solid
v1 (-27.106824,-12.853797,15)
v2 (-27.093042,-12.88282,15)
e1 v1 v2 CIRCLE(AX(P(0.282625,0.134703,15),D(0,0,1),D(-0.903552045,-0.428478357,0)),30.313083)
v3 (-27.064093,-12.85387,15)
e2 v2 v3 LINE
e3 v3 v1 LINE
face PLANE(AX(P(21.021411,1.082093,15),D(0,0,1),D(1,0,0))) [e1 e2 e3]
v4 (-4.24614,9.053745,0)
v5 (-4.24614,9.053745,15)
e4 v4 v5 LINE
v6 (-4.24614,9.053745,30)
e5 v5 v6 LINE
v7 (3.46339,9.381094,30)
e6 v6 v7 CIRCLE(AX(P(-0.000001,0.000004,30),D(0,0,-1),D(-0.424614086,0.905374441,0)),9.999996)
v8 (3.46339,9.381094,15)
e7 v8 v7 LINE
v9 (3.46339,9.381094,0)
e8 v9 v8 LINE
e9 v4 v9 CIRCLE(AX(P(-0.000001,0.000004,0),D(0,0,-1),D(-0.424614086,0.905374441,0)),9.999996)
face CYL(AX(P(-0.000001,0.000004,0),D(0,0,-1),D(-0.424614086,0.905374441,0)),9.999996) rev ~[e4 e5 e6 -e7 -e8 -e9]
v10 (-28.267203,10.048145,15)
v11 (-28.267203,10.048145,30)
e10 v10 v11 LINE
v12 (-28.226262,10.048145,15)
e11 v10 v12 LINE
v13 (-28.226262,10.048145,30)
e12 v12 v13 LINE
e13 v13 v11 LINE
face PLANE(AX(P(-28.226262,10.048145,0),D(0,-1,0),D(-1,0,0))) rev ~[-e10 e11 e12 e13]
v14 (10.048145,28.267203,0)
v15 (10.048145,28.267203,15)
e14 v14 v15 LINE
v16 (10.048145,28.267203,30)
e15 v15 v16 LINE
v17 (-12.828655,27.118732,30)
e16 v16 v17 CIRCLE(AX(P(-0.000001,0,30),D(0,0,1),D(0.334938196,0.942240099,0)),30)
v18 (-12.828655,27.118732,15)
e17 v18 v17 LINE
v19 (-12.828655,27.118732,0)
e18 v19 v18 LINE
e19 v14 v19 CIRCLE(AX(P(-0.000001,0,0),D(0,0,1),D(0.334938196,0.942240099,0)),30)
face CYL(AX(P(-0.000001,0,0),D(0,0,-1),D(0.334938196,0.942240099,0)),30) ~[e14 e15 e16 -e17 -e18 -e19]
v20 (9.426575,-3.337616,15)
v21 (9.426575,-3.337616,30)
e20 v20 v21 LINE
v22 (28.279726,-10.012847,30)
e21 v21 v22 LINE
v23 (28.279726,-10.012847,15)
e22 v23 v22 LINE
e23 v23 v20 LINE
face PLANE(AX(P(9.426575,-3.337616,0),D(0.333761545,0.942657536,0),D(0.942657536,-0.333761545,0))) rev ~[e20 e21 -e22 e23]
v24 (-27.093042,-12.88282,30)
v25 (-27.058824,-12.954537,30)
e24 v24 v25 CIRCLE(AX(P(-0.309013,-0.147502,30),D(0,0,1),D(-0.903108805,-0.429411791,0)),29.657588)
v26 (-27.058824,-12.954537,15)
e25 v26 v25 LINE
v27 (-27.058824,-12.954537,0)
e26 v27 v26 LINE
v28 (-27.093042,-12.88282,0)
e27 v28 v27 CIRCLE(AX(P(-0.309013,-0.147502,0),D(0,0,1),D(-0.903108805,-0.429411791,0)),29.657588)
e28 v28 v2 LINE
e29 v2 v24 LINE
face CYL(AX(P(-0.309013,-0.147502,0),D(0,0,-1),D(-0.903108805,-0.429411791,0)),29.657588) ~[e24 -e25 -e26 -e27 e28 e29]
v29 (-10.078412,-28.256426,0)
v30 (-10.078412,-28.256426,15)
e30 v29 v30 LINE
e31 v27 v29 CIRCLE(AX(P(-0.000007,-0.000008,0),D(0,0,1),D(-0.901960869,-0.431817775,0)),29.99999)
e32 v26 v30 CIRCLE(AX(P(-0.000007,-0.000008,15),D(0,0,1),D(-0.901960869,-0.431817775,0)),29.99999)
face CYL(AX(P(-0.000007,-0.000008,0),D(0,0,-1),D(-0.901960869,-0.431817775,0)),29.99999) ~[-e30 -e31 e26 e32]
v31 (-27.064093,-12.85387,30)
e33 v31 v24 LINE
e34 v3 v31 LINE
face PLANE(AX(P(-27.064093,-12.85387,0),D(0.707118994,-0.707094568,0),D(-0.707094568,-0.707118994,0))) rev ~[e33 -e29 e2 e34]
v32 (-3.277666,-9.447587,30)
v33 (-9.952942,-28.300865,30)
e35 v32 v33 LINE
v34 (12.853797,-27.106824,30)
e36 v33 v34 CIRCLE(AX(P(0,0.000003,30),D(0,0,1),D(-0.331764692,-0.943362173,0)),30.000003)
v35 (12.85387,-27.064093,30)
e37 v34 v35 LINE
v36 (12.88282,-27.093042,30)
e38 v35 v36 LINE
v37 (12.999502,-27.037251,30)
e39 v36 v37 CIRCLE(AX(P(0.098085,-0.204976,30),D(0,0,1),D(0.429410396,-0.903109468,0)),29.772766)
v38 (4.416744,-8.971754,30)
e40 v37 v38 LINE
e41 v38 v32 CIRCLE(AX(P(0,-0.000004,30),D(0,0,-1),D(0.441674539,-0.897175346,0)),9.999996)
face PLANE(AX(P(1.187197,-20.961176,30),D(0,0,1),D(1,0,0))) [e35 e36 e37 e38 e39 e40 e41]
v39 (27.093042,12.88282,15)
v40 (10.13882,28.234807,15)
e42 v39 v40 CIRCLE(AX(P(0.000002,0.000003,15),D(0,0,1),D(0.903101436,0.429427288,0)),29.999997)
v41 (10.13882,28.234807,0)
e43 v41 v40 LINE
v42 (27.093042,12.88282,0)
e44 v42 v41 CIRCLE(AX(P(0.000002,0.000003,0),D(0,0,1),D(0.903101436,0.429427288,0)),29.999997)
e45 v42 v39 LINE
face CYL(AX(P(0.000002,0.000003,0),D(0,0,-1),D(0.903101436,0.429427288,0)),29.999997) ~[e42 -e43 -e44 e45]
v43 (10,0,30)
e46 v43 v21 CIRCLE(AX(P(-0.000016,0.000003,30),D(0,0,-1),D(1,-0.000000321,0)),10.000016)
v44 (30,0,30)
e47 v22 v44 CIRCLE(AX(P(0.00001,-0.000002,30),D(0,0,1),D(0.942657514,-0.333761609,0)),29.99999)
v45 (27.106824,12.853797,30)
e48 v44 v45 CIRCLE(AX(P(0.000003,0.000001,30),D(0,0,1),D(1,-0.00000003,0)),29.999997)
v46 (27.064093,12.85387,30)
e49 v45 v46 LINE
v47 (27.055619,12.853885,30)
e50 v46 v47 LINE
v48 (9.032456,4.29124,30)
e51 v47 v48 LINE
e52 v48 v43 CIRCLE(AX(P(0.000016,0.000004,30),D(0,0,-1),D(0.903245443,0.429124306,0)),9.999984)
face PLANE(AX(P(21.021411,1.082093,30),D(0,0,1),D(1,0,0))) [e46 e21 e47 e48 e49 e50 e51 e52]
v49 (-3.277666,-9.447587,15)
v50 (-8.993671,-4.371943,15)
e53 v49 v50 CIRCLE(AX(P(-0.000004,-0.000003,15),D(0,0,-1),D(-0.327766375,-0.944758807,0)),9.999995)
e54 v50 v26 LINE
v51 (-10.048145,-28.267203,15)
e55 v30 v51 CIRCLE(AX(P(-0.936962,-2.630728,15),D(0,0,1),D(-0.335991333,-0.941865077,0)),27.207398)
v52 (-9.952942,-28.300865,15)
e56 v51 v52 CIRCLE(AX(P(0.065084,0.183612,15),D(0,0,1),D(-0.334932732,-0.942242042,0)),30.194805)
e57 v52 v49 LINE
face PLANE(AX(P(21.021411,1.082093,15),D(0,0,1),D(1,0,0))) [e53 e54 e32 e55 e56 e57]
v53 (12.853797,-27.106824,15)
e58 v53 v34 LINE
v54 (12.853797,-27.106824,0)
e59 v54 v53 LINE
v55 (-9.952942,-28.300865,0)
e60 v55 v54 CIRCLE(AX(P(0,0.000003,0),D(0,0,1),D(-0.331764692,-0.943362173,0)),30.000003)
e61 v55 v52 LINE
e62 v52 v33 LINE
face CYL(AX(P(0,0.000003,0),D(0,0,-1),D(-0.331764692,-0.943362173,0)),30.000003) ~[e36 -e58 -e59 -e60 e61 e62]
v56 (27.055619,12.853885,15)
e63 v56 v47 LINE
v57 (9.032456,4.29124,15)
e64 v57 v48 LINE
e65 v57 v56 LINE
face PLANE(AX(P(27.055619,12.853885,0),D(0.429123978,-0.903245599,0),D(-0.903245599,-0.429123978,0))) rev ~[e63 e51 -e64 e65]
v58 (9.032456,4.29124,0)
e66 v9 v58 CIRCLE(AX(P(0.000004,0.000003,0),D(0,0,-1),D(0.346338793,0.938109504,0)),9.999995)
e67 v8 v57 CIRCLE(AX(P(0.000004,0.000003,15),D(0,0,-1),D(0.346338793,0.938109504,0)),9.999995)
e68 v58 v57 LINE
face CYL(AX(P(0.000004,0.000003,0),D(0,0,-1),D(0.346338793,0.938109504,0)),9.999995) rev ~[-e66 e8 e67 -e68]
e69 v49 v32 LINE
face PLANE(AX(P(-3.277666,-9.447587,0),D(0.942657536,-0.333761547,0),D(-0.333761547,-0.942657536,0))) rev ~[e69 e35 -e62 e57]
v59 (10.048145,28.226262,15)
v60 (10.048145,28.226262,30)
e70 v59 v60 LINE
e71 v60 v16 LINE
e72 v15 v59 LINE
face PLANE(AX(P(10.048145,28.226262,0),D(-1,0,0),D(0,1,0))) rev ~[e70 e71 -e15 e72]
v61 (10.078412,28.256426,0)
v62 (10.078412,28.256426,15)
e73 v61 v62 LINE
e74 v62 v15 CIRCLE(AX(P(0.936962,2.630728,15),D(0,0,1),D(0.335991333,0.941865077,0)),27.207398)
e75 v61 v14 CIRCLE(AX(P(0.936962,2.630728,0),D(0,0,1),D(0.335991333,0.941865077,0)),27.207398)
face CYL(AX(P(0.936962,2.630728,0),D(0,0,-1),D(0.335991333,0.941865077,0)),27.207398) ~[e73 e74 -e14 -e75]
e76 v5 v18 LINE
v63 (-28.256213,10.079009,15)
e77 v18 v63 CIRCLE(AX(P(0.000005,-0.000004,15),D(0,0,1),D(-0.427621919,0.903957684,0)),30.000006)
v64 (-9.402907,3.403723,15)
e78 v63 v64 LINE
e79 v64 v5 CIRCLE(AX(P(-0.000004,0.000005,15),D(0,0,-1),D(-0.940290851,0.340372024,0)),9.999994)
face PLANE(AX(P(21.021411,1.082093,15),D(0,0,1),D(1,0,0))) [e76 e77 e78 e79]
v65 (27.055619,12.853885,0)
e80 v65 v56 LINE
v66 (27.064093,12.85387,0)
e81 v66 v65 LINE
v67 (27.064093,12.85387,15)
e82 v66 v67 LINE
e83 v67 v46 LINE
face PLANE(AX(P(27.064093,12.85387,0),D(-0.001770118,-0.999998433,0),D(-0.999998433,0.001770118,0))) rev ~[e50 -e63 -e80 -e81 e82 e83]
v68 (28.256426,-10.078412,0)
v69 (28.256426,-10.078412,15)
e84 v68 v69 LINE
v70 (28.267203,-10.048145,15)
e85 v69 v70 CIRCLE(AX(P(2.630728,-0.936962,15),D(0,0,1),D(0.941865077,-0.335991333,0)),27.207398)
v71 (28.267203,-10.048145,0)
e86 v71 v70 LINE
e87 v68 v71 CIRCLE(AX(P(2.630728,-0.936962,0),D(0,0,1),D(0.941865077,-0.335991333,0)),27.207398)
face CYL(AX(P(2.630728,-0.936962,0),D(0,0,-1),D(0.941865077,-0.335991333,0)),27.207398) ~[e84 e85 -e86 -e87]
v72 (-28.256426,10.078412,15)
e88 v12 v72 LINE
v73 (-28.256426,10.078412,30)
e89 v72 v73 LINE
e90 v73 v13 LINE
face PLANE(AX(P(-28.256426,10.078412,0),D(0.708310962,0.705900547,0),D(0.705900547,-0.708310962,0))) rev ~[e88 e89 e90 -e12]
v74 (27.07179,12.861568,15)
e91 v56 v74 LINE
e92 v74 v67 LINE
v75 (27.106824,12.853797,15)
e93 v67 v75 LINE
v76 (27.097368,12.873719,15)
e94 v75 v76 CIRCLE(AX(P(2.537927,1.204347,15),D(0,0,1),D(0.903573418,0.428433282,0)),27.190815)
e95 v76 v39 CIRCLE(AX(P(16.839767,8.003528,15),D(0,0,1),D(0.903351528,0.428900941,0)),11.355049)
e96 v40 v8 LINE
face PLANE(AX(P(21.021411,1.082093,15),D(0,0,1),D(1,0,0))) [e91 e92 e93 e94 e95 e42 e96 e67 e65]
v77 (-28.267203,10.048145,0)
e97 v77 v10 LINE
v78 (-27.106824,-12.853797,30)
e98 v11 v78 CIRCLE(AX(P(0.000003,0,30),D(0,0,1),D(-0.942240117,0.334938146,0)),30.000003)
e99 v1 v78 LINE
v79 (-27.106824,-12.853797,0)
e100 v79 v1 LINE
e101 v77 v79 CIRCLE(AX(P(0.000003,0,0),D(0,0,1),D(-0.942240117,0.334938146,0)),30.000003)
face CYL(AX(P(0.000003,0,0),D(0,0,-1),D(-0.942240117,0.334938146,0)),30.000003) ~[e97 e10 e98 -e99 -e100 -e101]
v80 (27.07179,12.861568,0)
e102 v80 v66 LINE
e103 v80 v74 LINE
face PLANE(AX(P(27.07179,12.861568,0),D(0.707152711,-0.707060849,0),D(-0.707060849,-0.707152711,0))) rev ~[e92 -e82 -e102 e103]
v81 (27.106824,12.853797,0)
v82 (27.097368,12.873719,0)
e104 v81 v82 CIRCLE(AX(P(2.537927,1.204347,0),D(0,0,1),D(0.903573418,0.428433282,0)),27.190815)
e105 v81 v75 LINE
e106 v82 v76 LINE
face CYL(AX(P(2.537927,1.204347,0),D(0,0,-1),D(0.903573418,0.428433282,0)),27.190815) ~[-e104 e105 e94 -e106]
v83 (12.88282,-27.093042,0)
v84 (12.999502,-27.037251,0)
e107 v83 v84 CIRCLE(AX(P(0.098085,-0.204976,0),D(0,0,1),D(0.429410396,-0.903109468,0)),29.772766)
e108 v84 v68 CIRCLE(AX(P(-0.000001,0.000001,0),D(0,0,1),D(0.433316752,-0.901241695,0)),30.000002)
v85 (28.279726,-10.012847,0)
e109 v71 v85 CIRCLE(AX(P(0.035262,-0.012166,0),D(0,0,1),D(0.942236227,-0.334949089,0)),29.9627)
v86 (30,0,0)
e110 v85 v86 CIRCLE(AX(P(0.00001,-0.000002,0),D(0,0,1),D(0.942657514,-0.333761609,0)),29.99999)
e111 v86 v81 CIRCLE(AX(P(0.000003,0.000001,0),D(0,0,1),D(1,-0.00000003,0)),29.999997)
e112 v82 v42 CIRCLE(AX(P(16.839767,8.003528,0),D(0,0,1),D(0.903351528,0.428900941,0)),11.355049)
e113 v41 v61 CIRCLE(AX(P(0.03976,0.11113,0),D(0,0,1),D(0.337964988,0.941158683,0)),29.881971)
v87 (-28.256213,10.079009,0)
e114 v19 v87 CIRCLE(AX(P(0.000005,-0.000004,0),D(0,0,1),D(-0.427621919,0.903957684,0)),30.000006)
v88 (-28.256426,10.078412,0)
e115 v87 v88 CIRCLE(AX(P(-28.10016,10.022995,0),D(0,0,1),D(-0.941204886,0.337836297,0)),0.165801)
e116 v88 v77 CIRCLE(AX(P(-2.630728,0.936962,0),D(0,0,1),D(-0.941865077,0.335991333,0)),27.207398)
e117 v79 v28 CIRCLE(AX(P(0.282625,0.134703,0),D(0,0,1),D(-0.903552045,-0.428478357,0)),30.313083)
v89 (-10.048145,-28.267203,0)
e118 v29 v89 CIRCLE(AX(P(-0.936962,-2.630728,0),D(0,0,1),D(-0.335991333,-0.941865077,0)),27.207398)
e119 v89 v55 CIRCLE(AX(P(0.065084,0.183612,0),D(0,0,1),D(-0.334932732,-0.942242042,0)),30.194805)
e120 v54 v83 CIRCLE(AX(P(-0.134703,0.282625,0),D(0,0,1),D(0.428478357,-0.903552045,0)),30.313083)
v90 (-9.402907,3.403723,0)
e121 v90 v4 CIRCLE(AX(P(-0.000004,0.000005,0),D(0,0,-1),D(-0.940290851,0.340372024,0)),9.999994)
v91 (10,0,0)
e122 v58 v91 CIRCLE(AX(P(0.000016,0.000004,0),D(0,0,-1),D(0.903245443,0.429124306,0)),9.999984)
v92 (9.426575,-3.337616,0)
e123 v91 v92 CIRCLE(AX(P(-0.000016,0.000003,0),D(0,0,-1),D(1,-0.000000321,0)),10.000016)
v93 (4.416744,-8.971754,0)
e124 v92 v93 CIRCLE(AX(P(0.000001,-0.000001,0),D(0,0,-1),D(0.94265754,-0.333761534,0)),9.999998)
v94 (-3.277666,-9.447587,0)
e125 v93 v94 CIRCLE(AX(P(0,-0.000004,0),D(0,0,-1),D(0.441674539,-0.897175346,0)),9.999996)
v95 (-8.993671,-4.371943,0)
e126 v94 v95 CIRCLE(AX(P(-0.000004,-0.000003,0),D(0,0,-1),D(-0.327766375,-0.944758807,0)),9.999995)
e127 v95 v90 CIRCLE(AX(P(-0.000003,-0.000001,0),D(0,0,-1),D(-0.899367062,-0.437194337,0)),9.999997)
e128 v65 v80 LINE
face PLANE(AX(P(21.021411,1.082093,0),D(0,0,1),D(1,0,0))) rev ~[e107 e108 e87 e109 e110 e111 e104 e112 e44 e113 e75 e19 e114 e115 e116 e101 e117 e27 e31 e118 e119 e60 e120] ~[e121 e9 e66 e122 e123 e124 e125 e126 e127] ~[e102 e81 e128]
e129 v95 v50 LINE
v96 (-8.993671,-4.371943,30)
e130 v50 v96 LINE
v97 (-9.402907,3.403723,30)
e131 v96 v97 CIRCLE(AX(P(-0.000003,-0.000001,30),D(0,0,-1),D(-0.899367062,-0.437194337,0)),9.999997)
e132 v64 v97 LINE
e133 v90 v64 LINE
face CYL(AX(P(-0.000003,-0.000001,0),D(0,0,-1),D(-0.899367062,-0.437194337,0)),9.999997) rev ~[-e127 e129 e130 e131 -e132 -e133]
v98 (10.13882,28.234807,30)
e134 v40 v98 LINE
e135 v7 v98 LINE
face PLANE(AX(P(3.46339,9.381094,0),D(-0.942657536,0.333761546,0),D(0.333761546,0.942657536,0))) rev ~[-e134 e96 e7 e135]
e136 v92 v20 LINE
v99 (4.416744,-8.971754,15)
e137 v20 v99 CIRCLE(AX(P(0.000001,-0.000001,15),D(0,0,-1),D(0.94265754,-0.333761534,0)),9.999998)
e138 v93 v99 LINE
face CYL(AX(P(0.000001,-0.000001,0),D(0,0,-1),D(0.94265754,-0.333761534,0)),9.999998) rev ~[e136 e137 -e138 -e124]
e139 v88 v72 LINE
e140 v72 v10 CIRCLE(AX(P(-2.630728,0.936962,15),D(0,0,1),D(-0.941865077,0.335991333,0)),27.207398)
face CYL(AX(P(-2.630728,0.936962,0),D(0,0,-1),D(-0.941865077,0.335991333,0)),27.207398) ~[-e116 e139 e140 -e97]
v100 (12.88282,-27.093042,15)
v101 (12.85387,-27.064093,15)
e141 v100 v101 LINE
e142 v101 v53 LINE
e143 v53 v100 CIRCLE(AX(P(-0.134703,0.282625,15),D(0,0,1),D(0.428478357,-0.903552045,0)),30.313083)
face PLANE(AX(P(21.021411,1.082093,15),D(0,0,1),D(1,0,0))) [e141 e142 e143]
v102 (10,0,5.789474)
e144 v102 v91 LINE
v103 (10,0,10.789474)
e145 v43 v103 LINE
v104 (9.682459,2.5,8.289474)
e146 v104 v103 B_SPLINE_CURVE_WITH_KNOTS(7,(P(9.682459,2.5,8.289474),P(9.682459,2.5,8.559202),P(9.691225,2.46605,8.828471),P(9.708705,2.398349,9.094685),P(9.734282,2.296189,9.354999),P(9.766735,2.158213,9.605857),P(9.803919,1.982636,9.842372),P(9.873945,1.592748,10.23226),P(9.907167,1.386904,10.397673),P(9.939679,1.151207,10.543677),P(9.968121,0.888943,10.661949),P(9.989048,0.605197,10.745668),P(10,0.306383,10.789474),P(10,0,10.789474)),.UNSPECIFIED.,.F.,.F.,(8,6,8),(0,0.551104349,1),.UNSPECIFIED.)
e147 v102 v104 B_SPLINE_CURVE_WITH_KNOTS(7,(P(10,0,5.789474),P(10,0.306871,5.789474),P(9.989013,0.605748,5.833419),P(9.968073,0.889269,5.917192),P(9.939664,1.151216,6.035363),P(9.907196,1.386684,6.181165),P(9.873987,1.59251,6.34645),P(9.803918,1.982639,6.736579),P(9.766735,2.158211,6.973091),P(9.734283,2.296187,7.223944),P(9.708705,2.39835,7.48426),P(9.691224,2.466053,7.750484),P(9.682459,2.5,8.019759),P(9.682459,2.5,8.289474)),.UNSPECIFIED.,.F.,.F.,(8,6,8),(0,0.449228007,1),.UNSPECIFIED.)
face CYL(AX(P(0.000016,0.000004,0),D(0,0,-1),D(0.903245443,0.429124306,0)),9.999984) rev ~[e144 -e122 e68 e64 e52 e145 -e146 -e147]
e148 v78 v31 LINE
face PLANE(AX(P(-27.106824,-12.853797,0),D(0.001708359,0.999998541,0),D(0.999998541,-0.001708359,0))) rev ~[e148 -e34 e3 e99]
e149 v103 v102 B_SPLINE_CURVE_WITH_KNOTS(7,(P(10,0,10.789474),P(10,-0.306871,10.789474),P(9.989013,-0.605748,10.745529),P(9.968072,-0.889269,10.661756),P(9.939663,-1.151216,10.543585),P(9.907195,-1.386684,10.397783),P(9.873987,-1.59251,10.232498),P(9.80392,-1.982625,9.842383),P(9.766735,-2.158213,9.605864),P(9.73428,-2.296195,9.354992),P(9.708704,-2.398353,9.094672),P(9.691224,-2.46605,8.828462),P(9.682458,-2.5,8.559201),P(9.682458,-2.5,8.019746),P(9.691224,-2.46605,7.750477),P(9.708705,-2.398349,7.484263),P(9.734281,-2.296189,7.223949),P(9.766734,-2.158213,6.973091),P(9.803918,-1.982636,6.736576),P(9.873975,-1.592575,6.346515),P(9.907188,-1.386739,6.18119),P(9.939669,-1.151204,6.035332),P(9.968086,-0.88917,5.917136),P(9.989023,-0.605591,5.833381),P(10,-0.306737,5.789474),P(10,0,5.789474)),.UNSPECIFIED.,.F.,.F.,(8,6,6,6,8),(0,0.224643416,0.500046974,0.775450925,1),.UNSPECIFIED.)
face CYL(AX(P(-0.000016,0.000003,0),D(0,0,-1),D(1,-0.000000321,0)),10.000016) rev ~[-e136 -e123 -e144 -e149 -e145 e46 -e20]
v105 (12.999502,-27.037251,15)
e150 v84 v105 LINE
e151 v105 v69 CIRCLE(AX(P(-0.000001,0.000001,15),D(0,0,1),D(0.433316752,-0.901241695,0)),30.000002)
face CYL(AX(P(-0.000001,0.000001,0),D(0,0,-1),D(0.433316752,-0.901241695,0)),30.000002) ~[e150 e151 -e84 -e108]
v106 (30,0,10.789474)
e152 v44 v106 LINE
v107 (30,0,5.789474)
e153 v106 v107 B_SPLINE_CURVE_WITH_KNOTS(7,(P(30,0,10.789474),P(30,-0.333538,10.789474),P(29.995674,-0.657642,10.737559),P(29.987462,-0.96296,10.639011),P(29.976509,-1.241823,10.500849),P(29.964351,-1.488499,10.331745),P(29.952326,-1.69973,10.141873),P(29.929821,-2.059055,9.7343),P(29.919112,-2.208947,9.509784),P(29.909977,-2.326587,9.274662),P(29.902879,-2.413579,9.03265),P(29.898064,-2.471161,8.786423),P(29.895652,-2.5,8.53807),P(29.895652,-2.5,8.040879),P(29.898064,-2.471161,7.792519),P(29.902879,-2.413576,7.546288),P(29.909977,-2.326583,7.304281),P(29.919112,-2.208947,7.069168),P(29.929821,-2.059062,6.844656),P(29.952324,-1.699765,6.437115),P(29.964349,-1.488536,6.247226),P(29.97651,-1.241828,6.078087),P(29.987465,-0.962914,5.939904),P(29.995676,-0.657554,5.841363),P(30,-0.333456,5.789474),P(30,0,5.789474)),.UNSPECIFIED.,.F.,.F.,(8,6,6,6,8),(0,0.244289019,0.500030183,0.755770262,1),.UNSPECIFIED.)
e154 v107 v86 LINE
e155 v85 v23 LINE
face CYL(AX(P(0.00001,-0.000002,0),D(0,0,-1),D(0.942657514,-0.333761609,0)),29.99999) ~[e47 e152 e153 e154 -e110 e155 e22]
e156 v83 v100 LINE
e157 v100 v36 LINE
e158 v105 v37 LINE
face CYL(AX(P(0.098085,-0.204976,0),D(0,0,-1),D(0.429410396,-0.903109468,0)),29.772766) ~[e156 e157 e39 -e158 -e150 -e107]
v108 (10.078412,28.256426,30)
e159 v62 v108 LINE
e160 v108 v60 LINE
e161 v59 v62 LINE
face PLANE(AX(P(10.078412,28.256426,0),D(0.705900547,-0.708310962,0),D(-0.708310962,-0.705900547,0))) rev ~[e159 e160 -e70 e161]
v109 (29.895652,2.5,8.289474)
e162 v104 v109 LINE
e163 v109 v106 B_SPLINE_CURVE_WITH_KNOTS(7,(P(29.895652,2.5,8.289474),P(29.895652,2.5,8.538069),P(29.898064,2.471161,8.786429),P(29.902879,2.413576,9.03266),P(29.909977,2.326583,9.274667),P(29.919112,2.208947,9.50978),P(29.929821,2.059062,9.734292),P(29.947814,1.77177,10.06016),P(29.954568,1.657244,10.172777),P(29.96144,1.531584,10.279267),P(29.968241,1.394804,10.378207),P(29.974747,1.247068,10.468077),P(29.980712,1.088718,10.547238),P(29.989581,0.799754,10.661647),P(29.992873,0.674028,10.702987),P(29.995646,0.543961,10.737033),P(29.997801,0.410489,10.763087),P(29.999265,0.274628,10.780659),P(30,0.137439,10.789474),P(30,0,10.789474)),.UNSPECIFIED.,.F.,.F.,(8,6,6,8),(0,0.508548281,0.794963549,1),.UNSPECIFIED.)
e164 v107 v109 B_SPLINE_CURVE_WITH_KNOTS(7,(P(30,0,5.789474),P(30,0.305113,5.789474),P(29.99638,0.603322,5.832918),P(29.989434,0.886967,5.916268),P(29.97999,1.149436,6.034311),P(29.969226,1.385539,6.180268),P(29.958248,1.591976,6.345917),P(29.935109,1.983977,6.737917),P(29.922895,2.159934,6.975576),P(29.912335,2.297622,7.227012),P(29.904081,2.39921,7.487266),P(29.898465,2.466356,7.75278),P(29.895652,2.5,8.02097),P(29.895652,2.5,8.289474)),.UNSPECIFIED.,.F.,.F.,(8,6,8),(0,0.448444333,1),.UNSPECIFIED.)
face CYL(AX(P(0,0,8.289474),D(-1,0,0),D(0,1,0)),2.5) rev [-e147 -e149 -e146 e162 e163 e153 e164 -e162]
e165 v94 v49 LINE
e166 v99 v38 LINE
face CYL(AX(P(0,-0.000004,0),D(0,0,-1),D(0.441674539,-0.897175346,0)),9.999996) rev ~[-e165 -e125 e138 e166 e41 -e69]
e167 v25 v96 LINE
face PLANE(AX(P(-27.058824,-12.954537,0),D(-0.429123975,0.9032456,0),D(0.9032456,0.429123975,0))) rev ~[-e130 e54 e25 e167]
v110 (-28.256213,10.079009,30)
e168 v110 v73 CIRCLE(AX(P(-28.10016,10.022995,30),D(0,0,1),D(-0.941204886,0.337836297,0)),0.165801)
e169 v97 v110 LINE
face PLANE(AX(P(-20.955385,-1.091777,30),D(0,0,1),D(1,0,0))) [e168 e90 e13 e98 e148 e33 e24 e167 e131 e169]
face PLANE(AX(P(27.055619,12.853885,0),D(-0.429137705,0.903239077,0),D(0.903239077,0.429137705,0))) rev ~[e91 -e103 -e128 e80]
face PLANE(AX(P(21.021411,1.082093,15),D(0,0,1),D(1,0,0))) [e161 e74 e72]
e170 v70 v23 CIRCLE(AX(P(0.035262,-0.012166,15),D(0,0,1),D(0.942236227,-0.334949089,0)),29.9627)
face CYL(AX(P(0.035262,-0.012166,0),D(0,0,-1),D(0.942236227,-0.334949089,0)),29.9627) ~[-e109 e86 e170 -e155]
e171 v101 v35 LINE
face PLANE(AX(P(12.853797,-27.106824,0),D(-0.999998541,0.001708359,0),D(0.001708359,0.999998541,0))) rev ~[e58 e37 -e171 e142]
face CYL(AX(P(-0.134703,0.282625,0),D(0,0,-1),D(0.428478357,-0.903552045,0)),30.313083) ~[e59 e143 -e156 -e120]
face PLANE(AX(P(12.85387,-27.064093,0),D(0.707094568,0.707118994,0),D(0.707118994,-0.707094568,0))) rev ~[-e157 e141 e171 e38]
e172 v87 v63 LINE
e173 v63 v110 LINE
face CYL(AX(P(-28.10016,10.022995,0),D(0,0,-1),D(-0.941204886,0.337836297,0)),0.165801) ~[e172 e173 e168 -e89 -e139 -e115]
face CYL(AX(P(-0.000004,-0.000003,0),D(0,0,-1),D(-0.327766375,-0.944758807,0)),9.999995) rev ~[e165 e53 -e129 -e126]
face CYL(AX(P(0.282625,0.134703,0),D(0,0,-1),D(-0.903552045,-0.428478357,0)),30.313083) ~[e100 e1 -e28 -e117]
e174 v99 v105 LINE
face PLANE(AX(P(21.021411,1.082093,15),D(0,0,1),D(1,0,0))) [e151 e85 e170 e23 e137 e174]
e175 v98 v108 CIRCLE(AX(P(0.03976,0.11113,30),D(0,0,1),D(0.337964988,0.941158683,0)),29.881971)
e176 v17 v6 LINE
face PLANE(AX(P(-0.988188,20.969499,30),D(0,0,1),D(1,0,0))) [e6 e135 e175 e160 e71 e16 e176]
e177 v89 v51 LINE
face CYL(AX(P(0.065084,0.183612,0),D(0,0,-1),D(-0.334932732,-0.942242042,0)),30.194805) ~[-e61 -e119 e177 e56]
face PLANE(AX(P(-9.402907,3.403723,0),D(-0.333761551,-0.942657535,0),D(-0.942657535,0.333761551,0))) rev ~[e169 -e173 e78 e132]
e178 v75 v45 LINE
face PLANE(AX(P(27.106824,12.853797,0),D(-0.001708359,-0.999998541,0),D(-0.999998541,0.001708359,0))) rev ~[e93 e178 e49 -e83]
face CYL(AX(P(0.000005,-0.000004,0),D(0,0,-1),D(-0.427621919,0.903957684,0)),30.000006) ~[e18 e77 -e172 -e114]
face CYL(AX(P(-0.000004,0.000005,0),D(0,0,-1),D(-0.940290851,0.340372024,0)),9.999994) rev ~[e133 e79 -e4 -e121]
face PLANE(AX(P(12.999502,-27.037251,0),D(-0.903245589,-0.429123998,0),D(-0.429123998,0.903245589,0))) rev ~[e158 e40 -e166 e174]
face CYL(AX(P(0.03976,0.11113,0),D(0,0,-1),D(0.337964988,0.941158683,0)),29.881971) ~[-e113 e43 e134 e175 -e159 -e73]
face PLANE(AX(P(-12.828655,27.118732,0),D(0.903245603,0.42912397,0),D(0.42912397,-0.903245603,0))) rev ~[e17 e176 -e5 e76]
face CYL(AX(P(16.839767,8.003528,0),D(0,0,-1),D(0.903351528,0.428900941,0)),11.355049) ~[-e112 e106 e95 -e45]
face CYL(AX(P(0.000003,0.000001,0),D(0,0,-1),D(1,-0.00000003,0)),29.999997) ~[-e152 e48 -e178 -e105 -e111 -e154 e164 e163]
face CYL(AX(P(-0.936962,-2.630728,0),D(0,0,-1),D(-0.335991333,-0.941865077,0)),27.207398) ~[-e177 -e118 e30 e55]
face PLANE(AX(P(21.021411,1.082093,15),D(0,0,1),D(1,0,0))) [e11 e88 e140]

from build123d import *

# Parameters (mm, degrees)
F1_DEPTH = 15
F3_DEPTH = 30
F2_R     = 2.5
F4_DEPTH = 34


with BuildPart() as f1:
    # F0 (on Top) → F1 (new body)
    with BuildSketch(Plane.XY):
        with BuildLine():
            ThreePointArc((9.032456, 4.29124), (9.755116, 2.199482), (10, 0))
            ThreePointArc((10, 0), (9.855601, -1.693258), (9.426575, -3.337616))
            Line((9.426575, -3.337616), (28.279726, -10.012847))
            ThreePointArc((28.279726, -10.012847), (29.566804, -5.079775), (30, 0))
            ThreePointArc((30, 0), (29.26777, 6.587689), (27.106824, 12.853797))
            Line((27.106824, 12.853797), (27.064093, 12.85387))
            Line((27.064093, 12.85387), (27.055619, 12.853885))
            Line((27.055619, 12.853885), (9.032456, 4.29124))
        make_face()
        with BuildLine():
            ThreePointArc((3.46339, 9.381094), (6.746347, 7.381518), (9.032456, 4.29124))
            Line((9.032456, 4.29124), (27.055619, 12.853885))
            Line((27.055619, 12.853885), (27.07179, 12.861568))
            Line((27.07179, 12.861568), (27.093042, 12.88282))
            ThreePointArc((27.093042, 12.88282), (20.136379, 22.237946), (10.13882, 28.234807))
            Line((10.13882, 28.234807), (3.46339, 9.381094))
        make_face()
        with BuildLine():
            Line((28.279726, -10.012847), (9.426575, -3.337616))
            ThreePointArc((9.426575, -3.337616), (7.472968, -6.644904), (4.416744, -8.971754))
            Line((4.416744, -8.971754), (12.999502, -27.037251))
            ThreePointArc((12.999502, -27.037251), (22.302768, -20.064559), (28.256426, -10.078412))
            Line((28.256426, -10.078412), (28.226262, -10.048145))
            Line((28.226262, -10.048145), (28.267203, -10.048145))
            ThreePointArc((28.267203, -10.048145), (28.27347, -10.030498), (28.279726, -10.012847))
        make_face()
        with BuildLine():
            ThreePointArc((-4.24614, 9.053745), (-0.424222, 9.990998), (3.46339, 9.381094))
            Line((3.46339, 9.381094), (10.13882, 28.234807))
            ThreePointArc((10.13882, 28.234807), (10.108621, 28.245633), (10.078412, 28.256426))
            Line((10.078412, 28.256426), (10.048145, 28.226262))
            Line((10.048145, 28.226262), (10.048145, 28.267203))
            ThreePointArc((10.048145, 28.267203), (-1.50418, 29.962267), (-12.828655, 27.118732))
            Line((-12.828655, 27.118732), (-4.24614, 9.053745))
        make_face()
        with BuildLine():
            Line((12.999502, -27.037251), (4.416744, -8.971754))
            ThreePointArc((4.416744, -8.971754), (0.617235, -9.980933), (-3.277666, -9.447587))
            Line((-3.277666, -9.447587), (-9.952942, -28.300865))
            ThreePointArc((-9.952942, -28.300865), (1.568494, -29.958969), (12.853797, -27.106824))
            Line((12.853797, -27.106824), (12.85387, -27.064093))
            Line((12.85387, -27.064093), (12.88282, -27.093042))
            ThreePointArc((12.88282, -27.093042), (12.941191, -27.06521), (12.999502, -27.037251))
        make_face()
        with BuildLine():
            ThreePointArc((-9.402907, 3.403723), (-7.386123, 6.741305), (-4.24614, 9.053745))
            Line((-4.24614, 9.053745), (-12.828655, 27.118732))
            ThreePointArc((-12.828655, 27.118732), (-22.239146, 20.135053), (-28.256213, 10.079009))
            Line((-28.256213, 10.079009), (-9.402907, 3.403723))
        make_face()
        with BuildLine():
            Line((27.07179, 12.861568), (27.064093, 12.85387))
            Line((27.064093, 12.85387), (27.106824, 12.853797))
            ThreePointArc((27.106824, 12.853797), (27.102098, 12.863759), (27.097368, 12.873719))
            Line((27.097368, 12.873719), (27.07179, 12.861568))
        make_face()
        with BuildLine():
            Line((27.093042, 12.88282), (27.07179, 12.861568))
            Line((27.07179, 12.861568), (27.097368, 12.873719))
            ThreePointArc((27.097368, 12.873719), (27.095206, 12.87827), (27.093042, 12.88282))
        make_face()
        with BuildLine():
            Line((-9.952942, -28.300865), (-3.277666, -9.447587))
            ThreePointArc((-3.277666, -9.447587), (-6.639802, -7.477502), (-8.993671, -4.371943))
            Line((-8.993671, -4.371943), (-27.058824, -12.954537))
            ThreePointArc((-27.058824, -12.954537), (-20.083091, -22.286083), (-10.078412, -28.256426))
            Line((-10.078412, -28.256426), (-10.048145, -28.226262))
            Line((-10.048145, -28.226262), (-10.048145, -28.267203))
            ThreePointArc((-10.048145, -28.267203), (-10.000557, -28.284074), (-9.952942, -28.300865))
        make_face()
        with BuildLine():
            ThreePointArc((28.256426, -10.078412), (28.261819, -10.06328), (28.267203, -10.048145))
            Line((28.267203, -10.048145), (28.226262, -10.048145))
            Line((28.226262, -10.048145), (28.256426, -10.078412))
        make_face()
        with BuildLine():
            ThreePointArc((-8.993671, -4.371943), (-9.986179, -0.525577), (-9.402907, 3.403723))
            Line((-9.402907, 3.403723), (-28.256213, 10.079009))
            ThreePointArc((-28.256213, 10.079009), (-28.25632, 10.07871), (-28.256426, 10.078412))
            Line((-28.256426, 10.078412), (-28.226262, 10.048145))
            Line((-28.226262, 10.048145), (-28.267203, 10.048145))
            ThreePointArc((-28.267203, 10.048145), (-29.961566, -1.518072), (-27.106824, -12.853797))
            Line((-27.106824, -12.853797), (-27.064093, -12.85387))
            Line((-27.064093, -12.85387), (-27.093042, -12.88282))
            ThreePointArc((-27.093042, -12.88282), (-27.075957, -12.91869), (-27.058824, -12.954537))
            Line((-27.058824, -12.954537), (-8.993671, -4.371943))
        make_face()
        with BuildLine():
            Line((10.048145, 28.226262), (10.078412, 28.256426))
            ThreePointArc((10.078412, 28.256426), (10.06328, 28.261819), (10.048145, 28.267203))
            Line((10.048145, 28.267203), (10.048145, 28.226262))
        make_face()
        with BuildLine():
            ThreePointArc((12.853797, -27.106824), (12.86831, -27.099937), (12.88282, -27.093042))
            Line((12.88282, -27.093042), (12.85387, -27.064093))
            Line((12.85387, -27.064093), (12.853797, -27.106824))
        make_face()
        with BuildLine():
            ThreePointArc((-10.078412, -28.256426), (-10.06328, -28.261819), (-10.048145, -28.267203))
            Line((-10.048145, -28.267203), (-10.048145, -28.226262))
            Line((-10.048145, -28.226262), (-10.078412, -28.256426))
        make_face()
        with BuildLine():
            Line((-28.226262, 10.048145), (-28.256426, 10.078412))
            ThreePointArc((-28.256426, 10.078412), (-28.261819, 10.06328), (-28.267203, 10.048145))
            Line((-28.267203, 10.048145), (-28.226262, 10.048145))
        make_face()
        with BuildLine():
            ThreePointArc((-27.106824, -12.853797), (-27.099937, -12.86831), (-27.093042, -12.88282))
            Line((-27.093042, -12.88282), (-27.064093, -12.85387))
            Line((-27.064093, -12.85387), (-27.106824, -12.853797))
        make_face()
    extrude(amount=F1_DEPTH)

    # F0 (on Top) → F3 (join)
    with BuildSketch(Plane.XY):
        with BuildLine():
            ThreePointArc((-4.24614, 9.053745), (-0.424222, 9.990998), (3.46339, 9.381094))
            Line((3.46339, 9.381094), (10.13882, 28.234807))
            ThreePointArc((10.13882, 28.234807), (10.108621, 28.245633), (10.078412, 28.256426))
            Line((10.078412, 28.256426), (10.048145, 28.226262))
            Line((10.048145, 28.226262), (10.048145, 28.267203))
            ThreePointArc((10.048145, 28.267203), (-1.50418, 29.962267), (-12.828655, 27.118732))
            Line((-12.828655, 27.118732), (-4.24614, 9.053745))
        make_face()
        with BuildLine():
            Line((12.999502, -27.037251), (4.416744, -8.971754))
            ThreePointArc((4.416744, -8.971754), (0.617235, -9.980933), (-3.277666, -9.447587))
            Line((-3.277666, -9.447587), (-9.952942, -28.300865))
            ThreePointArc((-9.952942, -28.300865), (1.568494, -29.958969), (12.853797, -27.106824))
            Line((12.853797, -27.106824), (12.85387, -27.064093))
            Line((12.85387, -27.064093), (12.88282, -27.093042))
            ThreePointArc((12.88282, -27.093042), (12.941191, -27.06521), (12.999502, -27.037251))
        make_face()
        with BuildLine():
            ThreePointArc((-8.993671, -4.371943), (-9.986179, -0.525577), (-9.402907, 3.403723))
            Line((-9.402907, 3.403723), (-28.256213, 10.079009))
            ThreePointArc((-28.256213, 10.079009), (-28.25632, 10.07871), (-28.256426, 10.078412))
            Line((-28.256426, 10.078412), (-28.226262, 10.048145))
            Line((-28.226262, 10.048145), (-28.267203, 10.048145))
            ThreePointArc((-28.267203, 10.048145), (-29.961566, -1.518072), (-27.106824, -12.853797))
            Line((-27.106824, -12.853797), (-27.064093, -12.85387))
            Line((-27.064093, -12.85387), (-27.093042, -12.88282))
            ThreePointArc((-27.093042, -12.88282), (-27.075957, -12.91869), (-27.058824, -12.954537))
            Line((-27.058824, -12.954537), (-8.993671, -4.371943))
        make_face()
        with BuildLine():
            ThreePointArc((9.032456, 4.29124), (9.755116, 2.199482), (10, 0))
            ThreePointArc((10, 0), (9.855601, -1.693258), (9.426575, -3.337616))
            Line((9.426575, -3.337616), (28.279726, -10.012847))
            ThreePointArc((28.279726, -10.012847), (29.566804, -5.079775), (30, 0))
            ThreePointArc((30, 0), (29.26777, 6.587689), (27.106824, 12.853797))
            Line((27.106824, 12.853797), (27.064093, 12.85387))
            Line((27.064093, 12.85387), (27.055619, 12.853885))
            Line((27.055619, 12.853885), (9.032456, 4.29124))
        make_face()
    extrude(amount=F3_DEPTH)

    # F2 (on Right) → F4 (cut)
    with BuildSketch(Plane.YZ):
        with Locations((0, 8.289474)):
            Circle(F2_R)
    extrude(amount=F4_DEPTH, mode=Mode.SUBTRACT)


solid = f1.part
